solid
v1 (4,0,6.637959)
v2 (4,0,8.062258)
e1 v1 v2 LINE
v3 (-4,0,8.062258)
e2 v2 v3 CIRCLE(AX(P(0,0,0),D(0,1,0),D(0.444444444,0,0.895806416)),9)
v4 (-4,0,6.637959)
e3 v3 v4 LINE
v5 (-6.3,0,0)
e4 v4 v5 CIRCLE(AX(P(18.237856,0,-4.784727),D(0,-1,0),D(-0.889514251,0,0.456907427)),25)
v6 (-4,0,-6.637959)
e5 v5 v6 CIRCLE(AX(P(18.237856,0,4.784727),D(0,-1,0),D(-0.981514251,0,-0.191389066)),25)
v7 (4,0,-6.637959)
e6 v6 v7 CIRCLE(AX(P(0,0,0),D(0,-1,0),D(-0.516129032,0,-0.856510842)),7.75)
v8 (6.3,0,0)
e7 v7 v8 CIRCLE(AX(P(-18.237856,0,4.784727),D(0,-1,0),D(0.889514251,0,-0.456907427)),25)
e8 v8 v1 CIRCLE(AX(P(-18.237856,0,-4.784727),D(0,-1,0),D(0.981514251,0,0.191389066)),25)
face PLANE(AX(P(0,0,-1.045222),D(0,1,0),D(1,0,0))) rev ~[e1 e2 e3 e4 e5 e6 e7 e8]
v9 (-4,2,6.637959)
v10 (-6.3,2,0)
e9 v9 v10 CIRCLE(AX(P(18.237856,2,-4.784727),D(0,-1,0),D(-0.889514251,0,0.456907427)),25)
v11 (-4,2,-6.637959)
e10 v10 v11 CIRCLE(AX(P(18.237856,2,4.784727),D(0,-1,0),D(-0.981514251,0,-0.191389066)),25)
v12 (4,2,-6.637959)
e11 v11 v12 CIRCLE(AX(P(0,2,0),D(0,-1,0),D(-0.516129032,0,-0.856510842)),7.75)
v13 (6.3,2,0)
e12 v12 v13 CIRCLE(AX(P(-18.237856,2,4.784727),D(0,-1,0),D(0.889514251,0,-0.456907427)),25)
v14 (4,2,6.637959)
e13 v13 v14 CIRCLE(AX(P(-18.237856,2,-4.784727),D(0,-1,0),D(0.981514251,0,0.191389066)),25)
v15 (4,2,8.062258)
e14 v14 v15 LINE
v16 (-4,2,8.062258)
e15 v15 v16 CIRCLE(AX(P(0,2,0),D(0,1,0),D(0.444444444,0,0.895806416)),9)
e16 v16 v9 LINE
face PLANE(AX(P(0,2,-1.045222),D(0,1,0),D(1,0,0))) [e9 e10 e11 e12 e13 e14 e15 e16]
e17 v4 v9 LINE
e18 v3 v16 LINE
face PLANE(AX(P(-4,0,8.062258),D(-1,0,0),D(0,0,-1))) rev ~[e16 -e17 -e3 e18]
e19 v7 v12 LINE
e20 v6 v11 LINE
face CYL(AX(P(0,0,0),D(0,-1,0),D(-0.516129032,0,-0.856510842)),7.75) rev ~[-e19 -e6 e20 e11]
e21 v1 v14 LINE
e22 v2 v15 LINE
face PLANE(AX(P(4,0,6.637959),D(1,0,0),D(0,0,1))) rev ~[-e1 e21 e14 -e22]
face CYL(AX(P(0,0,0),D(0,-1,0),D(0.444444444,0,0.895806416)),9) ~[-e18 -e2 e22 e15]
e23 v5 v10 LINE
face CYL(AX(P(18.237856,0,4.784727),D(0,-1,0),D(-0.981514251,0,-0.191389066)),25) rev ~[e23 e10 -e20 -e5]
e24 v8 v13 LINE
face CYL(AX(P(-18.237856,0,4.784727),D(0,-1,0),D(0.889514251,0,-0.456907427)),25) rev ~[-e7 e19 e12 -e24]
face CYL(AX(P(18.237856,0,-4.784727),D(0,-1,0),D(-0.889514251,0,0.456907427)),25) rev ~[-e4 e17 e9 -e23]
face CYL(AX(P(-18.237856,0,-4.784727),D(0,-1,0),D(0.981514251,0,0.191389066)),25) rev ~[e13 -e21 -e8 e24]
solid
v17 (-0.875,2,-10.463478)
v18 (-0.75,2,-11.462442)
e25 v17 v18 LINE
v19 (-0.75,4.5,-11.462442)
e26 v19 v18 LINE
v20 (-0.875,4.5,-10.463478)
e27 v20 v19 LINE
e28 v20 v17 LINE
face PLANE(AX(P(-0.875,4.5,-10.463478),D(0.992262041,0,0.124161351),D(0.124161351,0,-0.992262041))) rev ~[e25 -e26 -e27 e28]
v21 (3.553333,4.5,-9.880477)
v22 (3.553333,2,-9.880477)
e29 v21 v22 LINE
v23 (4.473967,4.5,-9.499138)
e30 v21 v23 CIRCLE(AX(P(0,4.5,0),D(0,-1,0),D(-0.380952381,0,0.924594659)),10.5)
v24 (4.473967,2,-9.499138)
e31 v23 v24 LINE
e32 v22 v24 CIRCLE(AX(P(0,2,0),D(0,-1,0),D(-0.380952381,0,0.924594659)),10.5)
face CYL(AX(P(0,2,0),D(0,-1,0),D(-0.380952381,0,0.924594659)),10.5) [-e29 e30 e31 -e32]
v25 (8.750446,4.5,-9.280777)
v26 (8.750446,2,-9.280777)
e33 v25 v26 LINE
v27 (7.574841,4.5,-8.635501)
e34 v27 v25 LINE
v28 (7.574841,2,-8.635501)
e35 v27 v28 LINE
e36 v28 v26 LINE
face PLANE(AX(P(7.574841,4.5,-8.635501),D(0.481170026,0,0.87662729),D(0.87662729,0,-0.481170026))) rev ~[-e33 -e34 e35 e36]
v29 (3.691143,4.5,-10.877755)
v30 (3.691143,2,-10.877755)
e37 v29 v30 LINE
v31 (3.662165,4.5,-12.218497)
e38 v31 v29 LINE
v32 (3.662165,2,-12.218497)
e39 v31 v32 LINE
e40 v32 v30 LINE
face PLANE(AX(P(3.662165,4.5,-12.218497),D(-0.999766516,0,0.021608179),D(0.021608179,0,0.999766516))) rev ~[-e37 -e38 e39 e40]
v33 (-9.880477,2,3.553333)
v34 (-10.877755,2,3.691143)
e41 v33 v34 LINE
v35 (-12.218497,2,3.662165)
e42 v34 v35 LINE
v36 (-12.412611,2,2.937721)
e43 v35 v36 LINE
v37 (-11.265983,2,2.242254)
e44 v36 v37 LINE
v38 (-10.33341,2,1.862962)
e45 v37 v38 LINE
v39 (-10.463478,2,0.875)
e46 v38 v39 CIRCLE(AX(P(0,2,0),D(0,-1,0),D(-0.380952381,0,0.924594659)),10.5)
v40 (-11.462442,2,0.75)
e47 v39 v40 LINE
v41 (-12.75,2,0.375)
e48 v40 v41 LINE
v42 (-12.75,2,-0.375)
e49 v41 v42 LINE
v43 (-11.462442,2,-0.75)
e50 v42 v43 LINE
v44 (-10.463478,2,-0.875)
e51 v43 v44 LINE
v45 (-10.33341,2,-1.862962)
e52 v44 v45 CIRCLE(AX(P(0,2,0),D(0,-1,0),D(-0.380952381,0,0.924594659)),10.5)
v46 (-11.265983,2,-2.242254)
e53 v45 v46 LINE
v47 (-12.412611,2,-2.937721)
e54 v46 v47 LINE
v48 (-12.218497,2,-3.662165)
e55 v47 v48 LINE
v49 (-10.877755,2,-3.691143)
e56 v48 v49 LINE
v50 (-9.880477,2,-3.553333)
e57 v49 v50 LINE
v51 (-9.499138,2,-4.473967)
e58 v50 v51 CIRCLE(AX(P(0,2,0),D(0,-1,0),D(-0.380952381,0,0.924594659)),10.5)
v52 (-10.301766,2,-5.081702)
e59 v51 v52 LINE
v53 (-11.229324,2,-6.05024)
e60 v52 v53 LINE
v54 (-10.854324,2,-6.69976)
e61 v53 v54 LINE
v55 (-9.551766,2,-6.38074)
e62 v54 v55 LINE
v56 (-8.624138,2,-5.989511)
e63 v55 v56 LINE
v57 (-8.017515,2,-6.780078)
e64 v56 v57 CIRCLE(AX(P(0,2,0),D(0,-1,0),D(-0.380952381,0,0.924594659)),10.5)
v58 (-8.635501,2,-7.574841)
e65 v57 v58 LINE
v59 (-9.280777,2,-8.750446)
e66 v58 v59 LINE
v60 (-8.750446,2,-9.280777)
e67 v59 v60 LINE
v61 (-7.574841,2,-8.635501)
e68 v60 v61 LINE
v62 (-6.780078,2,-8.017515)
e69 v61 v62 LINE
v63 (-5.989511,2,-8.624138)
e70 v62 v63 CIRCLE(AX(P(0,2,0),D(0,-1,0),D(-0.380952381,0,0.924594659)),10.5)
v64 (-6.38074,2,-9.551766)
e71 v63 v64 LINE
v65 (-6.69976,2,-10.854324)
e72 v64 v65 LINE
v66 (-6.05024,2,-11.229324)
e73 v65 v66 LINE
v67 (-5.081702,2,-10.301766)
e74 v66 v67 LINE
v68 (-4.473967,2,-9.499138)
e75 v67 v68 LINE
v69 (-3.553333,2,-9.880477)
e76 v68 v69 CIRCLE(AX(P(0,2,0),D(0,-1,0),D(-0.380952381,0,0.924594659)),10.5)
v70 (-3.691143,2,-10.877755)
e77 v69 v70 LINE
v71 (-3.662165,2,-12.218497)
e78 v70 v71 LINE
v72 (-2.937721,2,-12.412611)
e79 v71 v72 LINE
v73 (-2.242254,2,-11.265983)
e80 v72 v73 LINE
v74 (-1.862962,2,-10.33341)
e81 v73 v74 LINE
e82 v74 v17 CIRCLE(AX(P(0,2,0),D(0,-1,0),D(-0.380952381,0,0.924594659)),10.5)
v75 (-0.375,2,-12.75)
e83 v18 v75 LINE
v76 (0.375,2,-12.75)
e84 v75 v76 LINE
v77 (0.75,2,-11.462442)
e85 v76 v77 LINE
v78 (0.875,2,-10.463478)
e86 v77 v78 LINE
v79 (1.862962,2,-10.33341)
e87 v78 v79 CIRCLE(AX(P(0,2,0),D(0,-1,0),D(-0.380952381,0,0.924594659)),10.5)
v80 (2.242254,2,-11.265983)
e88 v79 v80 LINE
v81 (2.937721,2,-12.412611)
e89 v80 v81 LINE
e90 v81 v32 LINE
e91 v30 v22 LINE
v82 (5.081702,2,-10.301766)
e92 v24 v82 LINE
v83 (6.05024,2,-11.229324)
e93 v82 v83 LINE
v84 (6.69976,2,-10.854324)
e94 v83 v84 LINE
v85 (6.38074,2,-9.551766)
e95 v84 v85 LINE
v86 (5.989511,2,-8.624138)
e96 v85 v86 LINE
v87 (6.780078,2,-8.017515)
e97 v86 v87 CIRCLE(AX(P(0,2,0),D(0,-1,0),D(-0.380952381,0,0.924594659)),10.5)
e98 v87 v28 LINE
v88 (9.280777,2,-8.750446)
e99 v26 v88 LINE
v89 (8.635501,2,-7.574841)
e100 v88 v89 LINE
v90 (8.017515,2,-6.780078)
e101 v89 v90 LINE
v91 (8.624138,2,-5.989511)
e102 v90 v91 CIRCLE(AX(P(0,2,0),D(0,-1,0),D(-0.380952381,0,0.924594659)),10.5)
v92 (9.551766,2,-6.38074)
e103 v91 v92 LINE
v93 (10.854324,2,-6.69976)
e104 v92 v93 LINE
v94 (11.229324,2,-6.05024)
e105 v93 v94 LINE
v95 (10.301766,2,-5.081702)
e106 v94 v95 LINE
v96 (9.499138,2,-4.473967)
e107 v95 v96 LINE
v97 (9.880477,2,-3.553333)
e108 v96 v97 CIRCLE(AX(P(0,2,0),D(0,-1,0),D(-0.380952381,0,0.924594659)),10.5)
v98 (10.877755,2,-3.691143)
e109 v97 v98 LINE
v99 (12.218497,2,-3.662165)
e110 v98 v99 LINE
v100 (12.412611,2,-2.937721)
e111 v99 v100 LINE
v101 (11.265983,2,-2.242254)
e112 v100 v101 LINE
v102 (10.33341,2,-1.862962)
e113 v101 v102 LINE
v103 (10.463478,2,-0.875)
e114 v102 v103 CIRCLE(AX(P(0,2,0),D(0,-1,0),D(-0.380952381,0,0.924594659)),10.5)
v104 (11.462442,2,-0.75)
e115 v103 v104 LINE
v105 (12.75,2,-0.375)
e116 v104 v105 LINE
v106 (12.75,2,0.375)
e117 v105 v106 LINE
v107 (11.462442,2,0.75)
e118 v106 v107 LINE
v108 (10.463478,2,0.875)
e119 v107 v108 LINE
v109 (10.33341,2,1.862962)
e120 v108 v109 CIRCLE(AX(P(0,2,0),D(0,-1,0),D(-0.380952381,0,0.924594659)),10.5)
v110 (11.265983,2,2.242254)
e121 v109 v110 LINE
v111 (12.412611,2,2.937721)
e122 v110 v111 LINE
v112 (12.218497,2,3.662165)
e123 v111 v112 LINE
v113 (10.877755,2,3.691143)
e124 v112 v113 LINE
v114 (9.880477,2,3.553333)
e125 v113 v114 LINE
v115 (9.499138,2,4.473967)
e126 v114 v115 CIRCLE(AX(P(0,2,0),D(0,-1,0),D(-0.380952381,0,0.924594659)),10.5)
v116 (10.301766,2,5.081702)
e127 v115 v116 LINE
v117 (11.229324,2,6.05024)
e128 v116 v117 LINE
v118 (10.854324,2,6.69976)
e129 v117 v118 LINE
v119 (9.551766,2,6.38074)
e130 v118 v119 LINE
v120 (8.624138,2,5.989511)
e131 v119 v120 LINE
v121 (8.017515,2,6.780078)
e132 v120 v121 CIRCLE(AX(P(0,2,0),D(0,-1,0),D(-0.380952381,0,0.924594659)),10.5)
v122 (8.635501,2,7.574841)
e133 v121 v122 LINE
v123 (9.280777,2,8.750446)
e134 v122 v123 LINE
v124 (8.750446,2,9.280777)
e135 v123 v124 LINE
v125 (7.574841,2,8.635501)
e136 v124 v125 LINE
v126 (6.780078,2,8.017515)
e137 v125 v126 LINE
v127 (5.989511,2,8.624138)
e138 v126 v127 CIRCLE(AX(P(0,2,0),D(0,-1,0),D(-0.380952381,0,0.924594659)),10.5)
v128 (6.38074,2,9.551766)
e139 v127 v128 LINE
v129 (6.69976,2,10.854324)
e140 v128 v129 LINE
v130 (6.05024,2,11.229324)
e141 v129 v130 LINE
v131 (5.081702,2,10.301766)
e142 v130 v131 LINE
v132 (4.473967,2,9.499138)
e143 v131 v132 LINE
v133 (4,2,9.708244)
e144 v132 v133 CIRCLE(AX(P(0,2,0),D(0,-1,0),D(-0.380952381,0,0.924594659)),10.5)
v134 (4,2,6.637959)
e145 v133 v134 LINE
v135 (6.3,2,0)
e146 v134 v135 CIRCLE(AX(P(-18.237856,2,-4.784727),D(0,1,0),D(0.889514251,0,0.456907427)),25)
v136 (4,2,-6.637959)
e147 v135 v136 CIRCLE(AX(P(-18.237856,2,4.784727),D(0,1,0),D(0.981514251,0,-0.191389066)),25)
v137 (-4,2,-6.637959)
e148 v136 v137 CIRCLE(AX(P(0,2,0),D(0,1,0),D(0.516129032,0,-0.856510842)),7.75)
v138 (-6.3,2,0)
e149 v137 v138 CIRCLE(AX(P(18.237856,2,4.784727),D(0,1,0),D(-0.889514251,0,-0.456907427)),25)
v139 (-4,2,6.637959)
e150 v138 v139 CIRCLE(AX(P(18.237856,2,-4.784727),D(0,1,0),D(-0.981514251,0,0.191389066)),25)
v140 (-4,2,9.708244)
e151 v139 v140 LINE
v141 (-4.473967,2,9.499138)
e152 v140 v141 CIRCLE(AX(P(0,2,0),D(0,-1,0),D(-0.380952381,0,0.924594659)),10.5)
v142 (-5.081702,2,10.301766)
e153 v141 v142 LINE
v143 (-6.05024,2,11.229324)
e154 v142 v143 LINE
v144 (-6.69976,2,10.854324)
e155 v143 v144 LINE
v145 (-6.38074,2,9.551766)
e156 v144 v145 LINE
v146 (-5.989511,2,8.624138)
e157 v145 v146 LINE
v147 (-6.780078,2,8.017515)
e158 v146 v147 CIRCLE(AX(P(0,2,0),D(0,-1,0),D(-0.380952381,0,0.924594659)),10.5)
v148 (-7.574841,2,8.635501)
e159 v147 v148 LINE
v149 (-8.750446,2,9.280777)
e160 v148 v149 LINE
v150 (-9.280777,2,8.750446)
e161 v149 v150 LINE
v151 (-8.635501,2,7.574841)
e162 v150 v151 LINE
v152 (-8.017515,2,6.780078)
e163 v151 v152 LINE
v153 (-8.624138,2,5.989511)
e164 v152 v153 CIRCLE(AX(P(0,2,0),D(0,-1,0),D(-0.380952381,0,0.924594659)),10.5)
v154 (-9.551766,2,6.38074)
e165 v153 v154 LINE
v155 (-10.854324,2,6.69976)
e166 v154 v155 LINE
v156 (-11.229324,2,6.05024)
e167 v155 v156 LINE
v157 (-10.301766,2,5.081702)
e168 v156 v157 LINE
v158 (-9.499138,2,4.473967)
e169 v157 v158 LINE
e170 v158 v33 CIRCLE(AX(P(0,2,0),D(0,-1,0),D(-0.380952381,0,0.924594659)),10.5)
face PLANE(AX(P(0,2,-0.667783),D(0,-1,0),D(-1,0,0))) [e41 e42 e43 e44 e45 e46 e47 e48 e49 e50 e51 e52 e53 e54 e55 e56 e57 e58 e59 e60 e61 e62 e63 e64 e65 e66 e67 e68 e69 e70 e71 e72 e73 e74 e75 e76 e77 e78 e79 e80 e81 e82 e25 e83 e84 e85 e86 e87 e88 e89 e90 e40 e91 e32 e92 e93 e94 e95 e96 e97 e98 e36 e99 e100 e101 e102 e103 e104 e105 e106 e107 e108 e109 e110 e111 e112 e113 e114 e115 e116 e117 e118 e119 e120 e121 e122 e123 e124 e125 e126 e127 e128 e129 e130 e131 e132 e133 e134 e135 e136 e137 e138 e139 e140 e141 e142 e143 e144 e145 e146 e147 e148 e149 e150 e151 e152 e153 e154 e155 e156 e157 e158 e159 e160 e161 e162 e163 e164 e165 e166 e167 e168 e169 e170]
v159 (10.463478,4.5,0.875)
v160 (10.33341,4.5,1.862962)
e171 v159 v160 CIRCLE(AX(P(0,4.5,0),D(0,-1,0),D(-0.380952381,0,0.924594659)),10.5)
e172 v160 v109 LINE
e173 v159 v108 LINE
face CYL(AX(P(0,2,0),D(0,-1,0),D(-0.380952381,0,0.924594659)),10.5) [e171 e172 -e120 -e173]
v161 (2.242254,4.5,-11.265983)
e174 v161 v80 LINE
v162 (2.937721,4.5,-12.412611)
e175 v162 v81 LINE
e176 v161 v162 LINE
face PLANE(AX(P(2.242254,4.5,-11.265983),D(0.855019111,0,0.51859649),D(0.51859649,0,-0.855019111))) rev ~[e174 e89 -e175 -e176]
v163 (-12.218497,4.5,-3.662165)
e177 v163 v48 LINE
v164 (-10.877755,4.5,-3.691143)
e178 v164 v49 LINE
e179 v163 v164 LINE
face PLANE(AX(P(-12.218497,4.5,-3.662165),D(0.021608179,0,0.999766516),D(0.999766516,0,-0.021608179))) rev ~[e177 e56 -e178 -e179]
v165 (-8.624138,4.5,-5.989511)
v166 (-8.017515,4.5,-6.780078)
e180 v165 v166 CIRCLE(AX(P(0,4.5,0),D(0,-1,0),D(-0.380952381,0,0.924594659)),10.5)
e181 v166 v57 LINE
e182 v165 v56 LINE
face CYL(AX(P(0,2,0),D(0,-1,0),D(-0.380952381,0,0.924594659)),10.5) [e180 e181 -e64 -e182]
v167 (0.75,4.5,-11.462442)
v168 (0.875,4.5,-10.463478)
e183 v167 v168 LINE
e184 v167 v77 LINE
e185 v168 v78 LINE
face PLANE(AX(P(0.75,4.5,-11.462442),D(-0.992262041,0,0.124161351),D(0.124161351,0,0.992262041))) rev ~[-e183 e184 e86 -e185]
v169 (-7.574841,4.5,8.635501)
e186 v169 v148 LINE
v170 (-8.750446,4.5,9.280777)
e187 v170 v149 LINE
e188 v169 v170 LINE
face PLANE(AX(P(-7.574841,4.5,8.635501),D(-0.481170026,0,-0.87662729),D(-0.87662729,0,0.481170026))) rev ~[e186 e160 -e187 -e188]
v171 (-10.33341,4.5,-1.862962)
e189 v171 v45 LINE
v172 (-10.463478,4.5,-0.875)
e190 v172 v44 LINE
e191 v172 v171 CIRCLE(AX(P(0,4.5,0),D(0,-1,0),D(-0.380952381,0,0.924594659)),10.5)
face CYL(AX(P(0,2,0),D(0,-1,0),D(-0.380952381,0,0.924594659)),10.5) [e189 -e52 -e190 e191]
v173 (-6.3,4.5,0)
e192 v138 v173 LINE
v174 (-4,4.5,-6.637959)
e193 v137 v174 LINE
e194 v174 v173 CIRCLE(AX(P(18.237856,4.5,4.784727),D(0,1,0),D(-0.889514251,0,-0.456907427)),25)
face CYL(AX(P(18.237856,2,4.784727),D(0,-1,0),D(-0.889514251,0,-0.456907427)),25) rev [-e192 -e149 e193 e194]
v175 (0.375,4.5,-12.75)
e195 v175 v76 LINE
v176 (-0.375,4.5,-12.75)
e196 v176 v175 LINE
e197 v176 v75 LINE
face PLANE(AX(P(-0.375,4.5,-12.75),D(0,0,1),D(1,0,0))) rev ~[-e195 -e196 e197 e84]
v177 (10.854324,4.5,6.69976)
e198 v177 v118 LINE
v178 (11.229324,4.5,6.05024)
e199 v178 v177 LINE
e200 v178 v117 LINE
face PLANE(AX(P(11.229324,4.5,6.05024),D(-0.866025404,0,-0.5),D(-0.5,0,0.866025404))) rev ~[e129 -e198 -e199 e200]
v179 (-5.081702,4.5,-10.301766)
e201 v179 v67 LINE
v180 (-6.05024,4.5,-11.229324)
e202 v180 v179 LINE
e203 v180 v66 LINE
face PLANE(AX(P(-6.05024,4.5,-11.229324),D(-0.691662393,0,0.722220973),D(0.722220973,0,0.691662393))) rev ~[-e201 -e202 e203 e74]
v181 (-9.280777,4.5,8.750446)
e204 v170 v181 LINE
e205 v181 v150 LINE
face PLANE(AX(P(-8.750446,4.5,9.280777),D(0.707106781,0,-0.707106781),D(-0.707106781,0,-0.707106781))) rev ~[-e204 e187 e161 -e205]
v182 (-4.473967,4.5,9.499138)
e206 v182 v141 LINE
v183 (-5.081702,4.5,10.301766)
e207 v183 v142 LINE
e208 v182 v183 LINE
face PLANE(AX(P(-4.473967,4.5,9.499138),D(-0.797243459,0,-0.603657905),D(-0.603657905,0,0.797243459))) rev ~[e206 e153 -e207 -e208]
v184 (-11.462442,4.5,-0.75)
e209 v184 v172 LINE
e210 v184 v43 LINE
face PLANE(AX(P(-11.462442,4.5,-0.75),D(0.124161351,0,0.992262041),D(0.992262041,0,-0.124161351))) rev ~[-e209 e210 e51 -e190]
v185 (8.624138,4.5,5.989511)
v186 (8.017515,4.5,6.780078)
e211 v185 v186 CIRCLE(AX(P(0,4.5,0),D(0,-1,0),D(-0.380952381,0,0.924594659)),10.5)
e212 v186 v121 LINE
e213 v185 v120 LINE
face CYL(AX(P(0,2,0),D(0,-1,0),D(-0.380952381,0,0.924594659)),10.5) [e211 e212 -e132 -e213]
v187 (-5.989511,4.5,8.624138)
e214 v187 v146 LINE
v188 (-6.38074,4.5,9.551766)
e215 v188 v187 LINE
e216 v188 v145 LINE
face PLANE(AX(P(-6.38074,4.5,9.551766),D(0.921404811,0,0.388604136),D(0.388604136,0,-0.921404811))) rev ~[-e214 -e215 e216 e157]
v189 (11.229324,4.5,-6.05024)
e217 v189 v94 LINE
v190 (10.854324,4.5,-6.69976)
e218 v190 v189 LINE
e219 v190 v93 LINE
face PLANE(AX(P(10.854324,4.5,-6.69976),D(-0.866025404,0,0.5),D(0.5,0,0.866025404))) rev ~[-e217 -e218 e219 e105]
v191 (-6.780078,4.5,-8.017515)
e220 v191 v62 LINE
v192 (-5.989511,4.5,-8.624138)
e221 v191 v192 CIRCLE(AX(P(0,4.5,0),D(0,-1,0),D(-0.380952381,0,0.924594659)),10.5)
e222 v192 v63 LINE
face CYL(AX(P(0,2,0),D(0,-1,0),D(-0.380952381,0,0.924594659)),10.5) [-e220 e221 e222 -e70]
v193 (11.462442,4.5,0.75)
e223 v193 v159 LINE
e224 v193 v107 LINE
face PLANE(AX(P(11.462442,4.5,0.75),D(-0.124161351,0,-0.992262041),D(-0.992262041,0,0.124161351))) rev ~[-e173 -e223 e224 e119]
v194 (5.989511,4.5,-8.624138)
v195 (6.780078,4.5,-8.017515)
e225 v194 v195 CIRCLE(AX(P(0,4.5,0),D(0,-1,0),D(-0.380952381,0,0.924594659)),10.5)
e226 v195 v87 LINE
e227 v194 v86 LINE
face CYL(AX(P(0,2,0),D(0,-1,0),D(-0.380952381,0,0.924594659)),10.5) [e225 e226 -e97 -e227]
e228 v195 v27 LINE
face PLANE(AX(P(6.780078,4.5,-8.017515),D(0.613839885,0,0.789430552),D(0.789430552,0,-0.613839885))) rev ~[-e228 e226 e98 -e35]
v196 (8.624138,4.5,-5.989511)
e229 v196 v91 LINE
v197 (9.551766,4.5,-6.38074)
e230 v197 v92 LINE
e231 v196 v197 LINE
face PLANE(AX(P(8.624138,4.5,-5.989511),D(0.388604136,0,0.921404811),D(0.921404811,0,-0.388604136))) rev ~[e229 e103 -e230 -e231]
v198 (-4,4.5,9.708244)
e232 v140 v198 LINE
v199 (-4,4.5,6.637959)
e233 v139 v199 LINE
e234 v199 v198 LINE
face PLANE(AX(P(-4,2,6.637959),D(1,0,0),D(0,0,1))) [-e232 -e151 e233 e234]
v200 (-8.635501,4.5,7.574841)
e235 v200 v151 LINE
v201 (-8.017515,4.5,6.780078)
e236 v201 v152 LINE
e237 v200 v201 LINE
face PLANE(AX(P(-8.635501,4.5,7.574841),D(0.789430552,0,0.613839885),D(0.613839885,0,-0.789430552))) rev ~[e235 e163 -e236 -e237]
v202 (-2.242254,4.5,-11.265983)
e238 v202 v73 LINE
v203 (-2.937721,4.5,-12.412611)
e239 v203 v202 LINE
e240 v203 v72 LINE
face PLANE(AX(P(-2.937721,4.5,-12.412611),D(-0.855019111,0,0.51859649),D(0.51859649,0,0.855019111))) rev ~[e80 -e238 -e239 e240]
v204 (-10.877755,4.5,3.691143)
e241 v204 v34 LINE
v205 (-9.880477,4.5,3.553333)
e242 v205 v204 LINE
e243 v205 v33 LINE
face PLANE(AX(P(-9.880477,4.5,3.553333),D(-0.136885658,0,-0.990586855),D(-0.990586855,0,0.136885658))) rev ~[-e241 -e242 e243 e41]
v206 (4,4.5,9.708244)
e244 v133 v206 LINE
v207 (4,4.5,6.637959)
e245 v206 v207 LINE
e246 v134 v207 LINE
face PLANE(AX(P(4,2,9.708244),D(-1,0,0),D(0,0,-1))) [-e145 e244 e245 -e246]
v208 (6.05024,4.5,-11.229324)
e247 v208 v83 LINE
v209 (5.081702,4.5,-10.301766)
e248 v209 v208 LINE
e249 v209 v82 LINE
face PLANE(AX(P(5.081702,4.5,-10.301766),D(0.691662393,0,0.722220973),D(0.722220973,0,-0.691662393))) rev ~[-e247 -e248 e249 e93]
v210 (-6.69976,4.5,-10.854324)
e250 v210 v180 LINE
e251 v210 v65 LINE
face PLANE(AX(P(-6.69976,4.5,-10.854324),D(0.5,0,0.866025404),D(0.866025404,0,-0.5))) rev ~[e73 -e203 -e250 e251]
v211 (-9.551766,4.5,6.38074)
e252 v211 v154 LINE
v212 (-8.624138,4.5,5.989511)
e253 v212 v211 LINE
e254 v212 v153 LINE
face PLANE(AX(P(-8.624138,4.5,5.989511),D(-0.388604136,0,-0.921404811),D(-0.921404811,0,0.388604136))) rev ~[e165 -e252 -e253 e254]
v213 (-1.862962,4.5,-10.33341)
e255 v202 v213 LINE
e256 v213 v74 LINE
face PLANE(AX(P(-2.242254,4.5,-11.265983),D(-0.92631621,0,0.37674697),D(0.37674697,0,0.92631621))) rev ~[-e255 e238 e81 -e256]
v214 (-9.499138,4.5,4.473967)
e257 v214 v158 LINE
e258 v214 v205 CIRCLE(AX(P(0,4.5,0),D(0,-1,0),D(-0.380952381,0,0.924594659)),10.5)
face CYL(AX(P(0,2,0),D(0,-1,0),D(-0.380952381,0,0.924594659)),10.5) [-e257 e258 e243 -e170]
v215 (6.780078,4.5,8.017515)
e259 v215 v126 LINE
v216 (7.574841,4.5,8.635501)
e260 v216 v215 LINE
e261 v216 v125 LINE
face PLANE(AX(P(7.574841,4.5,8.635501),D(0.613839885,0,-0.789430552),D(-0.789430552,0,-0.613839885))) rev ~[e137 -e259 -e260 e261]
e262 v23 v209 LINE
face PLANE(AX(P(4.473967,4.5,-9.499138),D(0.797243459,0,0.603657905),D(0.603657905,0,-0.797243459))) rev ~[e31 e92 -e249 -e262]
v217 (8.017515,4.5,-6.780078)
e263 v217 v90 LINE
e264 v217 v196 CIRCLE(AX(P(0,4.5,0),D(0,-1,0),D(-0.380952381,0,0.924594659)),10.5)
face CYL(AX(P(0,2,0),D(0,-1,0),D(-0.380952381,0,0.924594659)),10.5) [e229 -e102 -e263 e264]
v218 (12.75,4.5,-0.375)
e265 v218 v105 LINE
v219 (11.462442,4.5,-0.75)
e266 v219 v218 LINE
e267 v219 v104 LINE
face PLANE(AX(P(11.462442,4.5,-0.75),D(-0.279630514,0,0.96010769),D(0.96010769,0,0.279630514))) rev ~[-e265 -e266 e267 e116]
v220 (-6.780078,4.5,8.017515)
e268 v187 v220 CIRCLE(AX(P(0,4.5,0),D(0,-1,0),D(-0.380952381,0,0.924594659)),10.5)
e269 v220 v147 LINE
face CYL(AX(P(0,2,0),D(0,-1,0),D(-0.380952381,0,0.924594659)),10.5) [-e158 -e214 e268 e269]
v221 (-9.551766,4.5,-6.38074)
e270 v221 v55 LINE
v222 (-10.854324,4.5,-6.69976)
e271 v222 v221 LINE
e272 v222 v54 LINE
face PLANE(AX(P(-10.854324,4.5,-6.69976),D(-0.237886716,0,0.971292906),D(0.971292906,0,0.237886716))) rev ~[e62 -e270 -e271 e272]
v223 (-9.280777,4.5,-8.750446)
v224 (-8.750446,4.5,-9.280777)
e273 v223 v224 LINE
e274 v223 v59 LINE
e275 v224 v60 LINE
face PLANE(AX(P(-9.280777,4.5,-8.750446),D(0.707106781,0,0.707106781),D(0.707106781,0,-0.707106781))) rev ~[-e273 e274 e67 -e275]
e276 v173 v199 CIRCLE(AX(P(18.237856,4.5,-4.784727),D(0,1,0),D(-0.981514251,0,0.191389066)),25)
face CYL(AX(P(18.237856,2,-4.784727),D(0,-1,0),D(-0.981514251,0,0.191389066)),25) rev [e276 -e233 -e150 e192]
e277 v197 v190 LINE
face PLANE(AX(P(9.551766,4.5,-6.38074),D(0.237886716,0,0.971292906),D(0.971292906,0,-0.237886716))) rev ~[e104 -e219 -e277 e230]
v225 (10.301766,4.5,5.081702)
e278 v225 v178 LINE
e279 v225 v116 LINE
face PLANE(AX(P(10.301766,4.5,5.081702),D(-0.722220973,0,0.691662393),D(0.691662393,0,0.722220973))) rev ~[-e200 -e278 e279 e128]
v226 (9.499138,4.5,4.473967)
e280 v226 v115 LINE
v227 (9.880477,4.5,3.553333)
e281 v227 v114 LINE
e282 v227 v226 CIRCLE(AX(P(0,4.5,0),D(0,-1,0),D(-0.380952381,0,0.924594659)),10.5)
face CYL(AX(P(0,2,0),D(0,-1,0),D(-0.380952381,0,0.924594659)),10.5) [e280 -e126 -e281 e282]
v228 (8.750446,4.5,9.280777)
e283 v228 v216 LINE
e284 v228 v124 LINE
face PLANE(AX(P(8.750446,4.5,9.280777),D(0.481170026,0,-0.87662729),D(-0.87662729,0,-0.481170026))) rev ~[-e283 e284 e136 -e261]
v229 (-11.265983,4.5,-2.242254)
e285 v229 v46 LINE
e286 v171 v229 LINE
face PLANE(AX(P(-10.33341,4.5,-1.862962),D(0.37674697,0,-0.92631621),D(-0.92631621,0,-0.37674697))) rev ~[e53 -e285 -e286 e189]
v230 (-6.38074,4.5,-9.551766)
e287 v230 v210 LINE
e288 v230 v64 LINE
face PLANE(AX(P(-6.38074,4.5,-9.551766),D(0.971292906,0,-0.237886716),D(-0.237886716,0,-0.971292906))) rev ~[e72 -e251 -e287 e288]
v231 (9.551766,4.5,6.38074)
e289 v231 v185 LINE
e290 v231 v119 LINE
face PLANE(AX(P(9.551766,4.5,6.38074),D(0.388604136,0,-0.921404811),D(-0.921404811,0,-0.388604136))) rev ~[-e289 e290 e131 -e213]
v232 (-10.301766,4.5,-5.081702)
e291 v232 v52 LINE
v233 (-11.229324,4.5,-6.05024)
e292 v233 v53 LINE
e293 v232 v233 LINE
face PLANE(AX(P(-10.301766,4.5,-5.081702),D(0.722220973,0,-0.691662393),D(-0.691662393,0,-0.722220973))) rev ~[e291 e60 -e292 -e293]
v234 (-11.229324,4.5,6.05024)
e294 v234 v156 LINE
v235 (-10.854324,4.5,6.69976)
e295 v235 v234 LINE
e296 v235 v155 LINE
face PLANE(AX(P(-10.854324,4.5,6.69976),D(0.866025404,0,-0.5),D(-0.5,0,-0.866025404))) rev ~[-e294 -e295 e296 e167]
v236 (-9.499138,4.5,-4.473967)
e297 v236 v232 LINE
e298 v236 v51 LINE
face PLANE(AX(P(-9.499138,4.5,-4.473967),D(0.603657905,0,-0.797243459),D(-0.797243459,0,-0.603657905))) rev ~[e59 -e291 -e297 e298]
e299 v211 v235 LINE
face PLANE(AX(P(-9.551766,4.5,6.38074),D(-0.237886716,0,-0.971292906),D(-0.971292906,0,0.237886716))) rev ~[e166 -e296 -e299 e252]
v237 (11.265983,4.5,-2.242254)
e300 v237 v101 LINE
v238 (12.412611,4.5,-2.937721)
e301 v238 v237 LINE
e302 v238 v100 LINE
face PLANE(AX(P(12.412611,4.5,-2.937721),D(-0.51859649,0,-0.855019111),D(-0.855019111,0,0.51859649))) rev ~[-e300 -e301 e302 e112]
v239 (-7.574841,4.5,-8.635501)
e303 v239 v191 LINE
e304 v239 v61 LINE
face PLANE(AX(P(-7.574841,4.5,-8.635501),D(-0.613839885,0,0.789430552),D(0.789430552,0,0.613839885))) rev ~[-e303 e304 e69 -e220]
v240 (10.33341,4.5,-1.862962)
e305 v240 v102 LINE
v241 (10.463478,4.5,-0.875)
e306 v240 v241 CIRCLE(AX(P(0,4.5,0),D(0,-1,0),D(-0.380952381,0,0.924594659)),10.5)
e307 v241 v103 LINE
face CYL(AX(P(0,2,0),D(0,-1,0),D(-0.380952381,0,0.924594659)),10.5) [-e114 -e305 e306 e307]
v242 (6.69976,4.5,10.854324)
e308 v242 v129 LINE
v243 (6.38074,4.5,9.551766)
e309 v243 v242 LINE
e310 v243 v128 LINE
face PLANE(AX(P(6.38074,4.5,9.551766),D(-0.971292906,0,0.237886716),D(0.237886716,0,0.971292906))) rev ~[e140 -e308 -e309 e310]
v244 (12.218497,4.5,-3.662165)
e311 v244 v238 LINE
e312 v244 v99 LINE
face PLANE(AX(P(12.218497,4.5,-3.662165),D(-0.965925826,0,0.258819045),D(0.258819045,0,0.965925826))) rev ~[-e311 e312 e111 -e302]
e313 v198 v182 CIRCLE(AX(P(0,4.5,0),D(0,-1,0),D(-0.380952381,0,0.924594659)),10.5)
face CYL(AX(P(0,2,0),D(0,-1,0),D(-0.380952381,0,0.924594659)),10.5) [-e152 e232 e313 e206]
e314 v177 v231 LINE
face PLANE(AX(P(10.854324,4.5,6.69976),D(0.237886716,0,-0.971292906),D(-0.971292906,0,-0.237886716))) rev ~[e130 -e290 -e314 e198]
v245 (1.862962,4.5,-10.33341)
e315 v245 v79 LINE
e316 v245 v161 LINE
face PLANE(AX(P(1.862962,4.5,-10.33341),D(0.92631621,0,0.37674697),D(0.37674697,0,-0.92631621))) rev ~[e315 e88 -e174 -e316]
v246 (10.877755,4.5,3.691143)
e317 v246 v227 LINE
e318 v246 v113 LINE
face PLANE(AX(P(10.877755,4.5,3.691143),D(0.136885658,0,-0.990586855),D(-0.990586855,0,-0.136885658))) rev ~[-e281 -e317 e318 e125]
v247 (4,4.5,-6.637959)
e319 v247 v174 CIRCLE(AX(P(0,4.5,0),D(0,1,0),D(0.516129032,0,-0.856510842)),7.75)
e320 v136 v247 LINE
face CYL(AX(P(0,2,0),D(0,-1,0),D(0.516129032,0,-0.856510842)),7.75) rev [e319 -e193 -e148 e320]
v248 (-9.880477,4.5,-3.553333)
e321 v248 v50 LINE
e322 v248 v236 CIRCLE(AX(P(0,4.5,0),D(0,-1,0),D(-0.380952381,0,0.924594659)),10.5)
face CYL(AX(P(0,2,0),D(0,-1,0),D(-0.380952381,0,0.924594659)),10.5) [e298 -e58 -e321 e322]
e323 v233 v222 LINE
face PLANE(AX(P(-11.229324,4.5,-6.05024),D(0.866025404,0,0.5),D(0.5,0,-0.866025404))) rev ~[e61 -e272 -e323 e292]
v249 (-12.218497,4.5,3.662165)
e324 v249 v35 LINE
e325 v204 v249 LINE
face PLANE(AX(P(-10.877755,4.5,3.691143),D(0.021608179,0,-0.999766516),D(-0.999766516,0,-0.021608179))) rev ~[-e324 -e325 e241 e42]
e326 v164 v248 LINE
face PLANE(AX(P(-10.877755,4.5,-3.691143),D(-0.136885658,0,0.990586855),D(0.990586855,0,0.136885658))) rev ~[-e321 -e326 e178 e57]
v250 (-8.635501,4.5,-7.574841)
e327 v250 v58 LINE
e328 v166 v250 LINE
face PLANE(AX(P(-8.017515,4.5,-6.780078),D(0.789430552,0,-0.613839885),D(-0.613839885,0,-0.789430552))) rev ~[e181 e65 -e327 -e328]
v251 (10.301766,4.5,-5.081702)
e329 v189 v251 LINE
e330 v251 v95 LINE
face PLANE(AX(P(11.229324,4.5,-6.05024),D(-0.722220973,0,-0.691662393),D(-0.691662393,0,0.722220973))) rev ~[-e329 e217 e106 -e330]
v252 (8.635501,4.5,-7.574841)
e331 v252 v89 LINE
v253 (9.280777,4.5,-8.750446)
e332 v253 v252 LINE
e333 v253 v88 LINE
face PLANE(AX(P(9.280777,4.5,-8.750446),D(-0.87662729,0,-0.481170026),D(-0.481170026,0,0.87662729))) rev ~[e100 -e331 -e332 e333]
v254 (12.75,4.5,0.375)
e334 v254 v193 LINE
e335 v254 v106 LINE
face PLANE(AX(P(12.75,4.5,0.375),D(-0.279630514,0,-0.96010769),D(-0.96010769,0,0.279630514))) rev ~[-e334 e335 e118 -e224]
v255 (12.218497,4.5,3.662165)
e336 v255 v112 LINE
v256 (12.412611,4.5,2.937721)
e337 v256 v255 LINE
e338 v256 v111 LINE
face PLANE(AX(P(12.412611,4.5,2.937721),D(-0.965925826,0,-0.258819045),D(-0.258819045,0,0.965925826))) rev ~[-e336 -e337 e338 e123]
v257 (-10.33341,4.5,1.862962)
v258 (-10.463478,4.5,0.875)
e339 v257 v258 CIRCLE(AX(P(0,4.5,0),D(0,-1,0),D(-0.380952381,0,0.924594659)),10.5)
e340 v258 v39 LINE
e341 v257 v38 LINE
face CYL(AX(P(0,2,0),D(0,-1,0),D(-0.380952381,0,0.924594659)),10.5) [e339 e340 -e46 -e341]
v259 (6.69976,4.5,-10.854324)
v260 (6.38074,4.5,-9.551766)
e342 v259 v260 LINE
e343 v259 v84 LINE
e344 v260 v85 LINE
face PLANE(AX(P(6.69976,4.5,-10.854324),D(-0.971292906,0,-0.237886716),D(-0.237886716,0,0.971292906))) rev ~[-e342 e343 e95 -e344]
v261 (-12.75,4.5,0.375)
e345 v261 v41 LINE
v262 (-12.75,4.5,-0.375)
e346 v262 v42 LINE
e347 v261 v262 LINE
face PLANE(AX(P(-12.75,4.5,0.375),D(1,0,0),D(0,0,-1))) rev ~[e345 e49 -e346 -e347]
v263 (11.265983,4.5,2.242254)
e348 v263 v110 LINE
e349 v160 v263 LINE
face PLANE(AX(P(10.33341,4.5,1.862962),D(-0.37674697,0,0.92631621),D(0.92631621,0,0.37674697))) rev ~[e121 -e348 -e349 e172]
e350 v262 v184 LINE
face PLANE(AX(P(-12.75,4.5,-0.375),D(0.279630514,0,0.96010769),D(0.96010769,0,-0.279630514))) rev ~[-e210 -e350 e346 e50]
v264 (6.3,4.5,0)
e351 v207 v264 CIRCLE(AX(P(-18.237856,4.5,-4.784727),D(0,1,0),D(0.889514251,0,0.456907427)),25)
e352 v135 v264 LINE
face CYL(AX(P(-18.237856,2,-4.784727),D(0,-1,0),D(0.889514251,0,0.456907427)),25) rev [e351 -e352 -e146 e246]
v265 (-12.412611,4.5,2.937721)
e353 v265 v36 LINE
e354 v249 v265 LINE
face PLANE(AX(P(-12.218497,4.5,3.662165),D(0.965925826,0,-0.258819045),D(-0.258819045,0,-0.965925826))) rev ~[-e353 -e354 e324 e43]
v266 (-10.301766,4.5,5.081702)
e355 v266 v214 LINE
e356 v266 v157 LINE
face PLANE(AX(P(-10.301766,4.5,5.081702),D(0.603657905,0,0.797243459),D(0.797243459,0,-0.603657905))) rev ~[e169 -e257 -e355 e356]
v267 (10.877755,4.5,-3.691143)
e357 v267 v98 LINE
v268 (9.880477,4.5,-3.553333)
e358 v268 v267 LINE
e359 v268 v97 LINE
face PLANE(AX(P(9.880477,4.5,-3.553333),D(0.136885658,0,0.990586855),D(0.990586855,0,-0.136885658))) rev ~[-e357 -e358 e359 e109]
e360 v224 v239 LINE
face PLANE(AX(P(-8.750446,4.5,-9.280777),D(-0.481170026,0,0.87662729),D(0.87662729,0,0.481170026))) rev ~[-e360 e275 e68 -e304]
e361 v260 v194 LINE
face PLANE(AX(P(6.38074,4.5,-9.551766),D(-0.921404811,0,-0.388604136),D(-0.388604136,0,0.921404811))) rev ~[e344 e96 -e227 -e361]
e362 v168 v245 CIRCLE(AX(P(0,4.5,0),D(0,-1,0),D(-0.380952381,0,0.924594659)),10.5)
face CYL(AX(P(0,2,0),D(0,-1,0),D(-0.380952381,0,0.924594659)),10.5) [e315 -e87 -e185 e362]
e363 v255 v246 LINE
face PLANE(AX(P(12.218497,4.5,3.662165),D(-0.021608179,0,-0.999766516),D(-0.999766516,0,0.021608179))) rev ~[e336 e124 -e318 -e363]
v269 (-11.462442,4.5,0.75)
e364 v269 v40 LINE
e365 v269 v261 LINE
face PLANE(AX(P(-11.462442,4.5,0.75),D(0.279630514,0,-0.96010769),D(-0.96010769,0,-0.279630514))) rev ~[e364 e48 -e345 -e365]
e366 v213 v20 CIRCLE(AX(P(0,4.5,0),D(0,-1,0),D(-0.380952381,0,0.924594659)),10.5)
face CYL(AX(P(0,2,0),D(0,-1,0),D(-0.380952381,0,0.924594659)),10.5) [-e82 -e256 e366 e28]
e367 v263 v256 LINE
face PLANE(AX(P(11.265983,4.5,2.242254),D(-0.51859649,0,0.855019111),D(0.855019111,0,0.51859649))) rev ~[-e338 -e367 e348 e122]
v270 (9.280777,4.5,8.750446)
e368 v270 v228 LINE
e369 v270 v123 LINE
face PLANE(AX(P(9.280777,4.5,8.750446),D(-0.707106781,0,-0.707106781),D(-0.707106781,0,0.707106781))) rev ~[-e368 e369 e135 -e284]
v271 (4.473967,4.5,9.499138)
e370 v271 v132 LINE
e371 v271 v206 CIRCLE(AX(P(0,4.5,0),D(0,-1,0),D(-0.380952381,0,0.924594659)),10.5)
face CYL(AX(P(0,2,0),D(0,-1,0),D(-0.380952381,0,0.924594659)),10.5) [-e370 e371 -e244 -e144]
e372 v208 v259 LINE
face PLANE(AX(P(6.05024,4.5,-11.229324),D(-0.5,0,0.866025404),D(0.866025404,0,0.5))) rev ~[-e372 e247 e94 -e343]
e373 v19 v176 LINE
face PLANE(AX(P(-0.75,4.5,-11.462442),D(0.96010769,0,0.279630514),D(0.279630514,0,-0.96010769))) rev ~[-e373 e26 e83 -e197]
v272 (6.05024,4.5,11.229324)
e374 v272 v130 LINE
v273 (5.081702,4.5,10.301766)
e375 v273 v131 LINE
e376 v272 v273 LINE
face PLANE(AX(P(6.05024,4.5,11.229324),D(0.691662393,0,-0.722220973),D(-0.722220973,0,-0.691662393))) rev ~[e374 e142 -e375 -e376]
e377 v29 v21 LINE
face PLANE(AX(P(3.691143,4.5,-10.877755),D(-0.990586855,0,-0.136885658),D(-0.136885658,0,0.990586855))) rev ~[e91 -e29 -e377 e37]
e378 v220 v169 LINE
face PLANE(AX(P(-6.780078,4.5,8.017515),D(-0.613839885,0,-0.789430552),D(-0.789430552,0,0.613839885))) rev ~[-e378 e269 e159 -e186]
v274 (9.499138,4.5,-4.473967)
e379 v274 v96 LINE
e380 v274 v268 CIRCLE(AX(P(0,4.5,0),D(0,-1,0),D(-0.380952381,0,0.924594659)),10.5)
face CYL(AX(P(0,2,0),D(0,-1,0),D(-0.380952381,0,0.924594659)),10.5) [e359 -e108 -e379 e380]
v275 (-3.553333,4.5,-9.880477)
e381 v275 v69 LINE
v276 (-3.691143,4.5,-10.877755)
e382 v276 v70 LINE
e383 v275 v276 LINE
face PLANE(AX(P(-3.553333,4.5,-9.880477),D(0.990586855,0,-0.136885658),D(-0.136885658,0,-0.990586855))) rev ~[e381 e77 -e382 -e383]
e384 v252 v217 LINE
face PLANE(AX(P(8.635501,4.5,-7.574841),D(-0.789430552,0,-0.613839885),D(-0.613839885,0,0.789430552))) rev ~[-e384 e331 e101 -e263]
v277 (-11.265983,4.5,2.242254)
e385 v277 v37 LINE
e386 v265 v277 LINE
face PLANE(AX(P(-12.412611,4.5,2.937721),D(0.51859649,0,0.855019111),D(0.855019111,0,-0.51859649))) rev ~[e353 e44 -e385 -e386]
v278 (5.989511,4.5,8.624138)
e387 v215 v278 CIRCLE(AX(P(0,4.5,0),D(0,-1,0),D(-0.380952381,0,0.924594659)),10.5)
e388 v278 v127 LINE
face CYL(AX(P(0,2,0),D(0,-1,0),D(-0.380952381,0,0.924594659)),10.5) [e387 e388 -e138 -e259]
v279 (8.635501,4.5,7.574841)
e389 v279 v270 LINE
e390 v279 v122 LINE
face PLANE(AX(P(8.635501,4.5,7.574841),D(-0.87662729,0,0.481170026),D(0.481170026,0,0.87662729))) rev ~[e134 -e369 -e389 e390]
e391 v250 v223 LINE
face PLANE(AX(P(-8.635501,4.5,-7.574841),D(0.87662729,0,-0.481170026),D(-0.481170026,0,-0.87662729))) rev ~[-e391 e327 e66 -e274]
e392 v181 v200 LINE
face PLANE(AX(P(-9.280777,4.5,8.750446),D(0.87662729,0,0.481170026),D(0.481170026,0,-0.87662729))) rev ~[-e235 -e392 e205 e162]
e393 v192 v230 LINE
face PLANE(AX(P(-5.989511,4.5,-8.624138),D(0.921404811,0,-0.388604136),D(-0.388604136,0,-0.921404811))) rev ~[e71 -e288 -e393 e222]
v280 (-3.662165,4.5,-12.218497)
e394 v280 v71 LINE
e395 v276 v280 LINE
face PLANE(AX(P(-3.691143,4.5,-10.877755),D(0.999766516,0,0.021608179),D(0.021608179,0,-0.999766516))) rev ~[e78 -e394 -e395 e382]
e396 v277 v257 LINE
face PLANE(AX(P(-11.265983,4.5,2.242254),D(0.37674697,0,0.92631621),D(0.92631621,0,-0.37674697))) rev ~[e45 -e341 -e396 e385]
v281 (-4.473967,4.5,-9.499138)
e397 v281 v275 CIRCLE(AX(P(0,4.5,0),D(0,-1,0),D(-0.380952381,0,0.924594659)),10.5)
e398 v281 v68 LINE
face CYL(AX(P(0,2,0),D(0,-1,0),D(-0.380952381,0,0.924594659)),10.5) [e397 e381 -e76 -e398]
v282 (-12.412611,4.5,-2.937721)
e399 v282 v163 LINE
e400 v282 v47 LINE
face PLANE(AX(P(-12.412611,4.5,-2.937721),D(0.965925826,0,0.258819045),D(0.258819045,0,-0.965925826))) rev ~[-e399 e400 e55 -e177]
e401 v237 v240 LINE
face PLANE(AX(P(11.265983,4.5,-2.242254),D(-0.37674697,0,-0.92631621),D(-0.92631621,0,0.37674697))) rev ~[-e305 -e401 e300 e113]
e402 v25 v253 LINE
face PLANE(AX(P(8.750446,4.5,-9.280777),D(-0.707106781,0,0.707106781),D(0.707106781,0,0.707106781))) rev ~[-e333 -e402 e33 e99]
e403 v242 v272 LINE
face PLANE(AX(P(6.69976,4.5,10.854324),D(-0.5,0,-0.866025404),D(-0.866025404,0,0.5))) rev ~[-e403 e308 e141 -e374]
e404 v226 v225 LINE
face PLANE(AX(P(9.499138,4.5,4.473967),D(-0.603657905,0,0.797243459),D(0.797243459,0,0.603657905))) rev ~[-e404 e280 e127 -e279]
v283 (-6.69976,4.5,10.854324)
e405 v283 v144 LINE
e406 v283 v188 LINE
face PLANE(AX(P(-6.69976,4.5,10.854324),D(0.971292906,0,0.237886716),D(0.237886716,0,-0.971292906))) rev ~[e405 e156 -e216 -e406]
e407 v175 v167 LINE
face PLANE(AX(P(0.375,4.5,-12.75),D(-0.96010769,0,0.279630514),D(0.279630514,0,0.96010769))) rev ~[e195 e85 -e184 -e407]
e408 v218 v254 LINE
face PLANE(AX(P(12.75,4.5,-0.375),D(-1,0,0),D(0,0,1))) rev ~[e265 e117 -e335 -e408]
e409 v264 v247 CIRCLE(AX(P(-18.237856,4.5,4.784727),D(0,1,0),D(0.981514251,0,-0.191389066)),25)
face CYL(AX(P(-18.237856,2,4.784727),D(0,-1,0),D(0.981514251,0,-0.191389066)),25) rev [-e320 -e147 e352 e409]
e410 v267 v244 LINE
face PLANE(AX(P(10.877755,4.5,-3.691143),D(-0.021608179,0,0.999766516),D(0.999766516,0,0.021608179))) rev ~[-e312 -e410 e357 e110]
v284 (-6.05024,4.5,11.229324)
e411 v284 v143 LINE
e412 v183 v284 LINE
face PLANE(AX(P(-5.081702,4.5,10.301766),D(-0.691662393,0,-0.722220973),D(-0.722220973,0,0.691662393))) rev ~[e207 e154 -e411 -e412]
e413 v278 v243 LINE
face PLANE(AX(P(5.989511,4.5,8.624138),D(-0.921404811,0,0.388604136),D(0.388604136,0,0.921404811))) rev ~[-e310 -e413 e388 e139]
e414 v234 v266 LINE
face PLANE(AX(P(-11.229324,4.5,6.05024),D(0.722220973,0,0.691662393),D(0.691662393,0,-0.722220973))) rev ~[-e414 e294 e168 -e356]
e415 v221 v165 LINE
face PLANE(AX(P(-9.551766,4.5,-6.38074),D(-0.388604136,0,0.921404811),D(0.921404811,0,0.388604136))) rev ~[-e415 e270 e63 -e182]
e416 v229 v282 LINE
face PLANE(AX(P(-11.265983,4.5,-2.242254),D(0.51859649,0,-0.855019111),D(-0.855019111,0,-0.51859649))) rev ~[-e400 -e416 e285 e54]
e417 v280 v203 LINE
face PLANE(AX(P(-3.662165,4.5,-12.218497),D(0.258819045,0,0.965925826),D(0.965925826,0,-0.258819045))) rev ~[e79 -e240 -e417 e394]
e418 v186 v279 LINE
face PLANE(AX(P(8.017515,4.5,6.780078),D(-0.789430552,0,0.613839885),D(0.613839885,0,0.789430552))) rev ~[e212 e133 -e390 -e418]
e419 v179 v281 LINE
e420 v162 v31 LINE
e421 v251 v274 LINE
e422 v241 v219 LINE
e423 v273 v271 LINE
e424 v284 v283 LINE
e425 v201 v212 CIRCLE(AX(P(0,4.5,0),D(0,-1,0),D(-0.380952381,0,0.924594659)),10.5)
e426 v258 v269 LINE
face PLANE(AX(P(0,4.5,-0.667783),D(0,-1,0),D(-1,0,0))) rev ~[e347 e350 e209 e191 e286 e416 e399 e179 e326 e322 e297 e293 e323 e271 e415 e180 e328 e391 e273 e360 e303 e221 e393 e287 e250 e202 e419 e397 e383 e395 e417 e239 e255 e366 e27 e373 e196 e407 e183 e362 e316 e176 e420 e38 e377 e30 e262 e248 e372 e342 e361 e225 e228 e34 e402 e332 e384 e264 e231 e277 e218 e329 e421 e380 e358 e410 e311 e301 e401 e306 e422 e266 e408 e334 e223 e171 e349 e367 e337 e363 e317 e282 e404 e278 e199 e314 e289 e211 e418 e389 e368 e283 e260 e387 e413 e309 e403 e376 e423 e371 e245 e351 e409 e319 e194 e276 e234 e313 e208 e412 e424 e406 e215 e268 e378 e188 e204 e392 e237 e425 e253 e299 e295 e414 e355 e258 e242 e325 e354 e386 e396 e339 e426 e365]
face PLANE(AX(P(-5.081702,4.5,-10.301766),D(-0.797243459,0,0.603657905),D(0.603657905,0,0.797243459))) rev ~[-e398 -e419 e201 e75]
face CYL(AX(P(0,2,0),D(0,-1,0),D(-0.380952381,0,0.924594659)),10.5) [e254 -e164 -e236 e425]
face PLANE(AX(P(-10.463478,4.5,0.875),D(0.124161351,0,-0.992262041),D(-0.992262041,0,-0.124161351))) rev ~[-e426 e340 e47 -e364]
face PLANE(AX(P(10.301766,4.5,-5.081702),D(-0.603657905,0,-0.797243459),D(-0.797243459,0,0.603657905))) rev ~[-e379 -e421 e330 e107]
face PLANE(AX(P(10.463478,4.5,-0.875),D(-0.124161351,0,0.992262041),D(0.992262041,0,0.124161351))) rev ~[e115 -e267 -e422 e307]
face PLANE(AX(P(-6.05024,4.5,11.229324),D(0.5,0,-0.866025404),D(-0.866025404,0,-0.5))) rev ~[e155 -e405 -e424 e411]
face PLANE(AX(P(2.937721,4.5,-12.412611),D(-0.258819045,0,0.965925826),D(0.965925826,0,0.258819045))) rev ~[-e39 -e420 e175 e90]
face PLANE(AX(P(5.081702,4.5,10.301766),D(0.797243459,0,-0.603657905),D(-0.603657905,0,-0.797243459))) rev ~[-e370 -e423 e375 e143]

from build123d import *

# Parameters (mm, degrees)
BOSS_EXTRUDE1_DEPTH = 2
BOSS_EXTRUDE2_DEPTH = 2.5
BOSS_EXTRUDE5_DEPTH = 2.5
CIRPATTERN2_COUNT   = 24


with BuildPart() as part:
    # Sketch1 → Boss-Extrude1 (new body)
    with BuildSketch(Plane(origin=(0, 0, 0), x_dir=(1, 0, 0), z_dir=(0, 1, 0))):
        with BuildLine():
            Line((-4, -8.062257748), (-4, -6.637959024))
            ThreePointArc((-4, -6.637959024), (-5.384324957, -3.400171245), (-6.3, 0))
            ThreePointArc((-6.3, 0), (-5.384324957, 3.400171245), (-4, 6.637959024))
            ThreePointArc((-4, 6.637959024), (0, 7.75), (4, 6.637959024))
            ThreePointArc((4, 6.637959024), (5.384324957, 3.400171245), (6.3, 0))
            ThreePointArc((6.3, 0), (5.384324957, -3.400171245), (4, -6.637959024))
            Line((4, -6.637959024), (4, -8.062257748))
            ThreePointArc((4, -8.062257748), (0, 9), (-4, -8.062257748))
        make_face()
    extrude(amount=BOSS_EXTRUDE1_DEPTH)


with BuildPart() as body_2:
    # Sketch2 → Boss-Extrude2 (new body)
    with BuildSketch(Plane(origin=(0, 2, 0), x_dir=(1, 0, 0), z_dir=(0, 1, 0))):
        with BuildLine():
            Line((4, -9.708243919), (4, -8.062257748))
            Line((4, -8.062257748), (4, -6.637959024))
            ThreePointArc((4, -6.637959024), (5.384324957, -3.400171245), (6.3, 0))
            ThreePointArc((6.3, 0), (5.384324957, 3.400171245), (4, 6.637959024))
            ThreePointArc((4, 6.637959024), (0, 7.75), (-4, 6.637959024))
            ThreePointArc((-4, 6.637959024), (-5.384324957, 3.400171245), (-6.3, 0))
            ThreePointArc((-6.3, 0), (-5.384324957, -3.400171245), (-4, -6.637959024))
            Line((-4, -6.637959024), (-4, -8.062257748))
            Line((-4, -8.062257748), (-4, -9.708243919))
            ThreePointArc((-4, -9.708243919), (0, 10.5), (4, -9.708243919))
        make_face()
    extrude(amount=BOSS_EXTRUDE2_DEPTH)

    # Sketch7 → Boss-Extrude5 (add)
    with BuildSketch(Plane(origin=(0, 4.5, 0), x_dir=(1, 0, 0), z_dir=(0, 1, 0))):
        with BuildLine():
            Line((-0.375, 12.75), (0.375, 12.75))
            Line((0.375, 12.75), (0.75, 11.462442433))
            Line((0.75, 11.462442433), (0.875, 10.46347815))
            ThreePointArc((0.875, 10.46347815), (0, 10.5), (-0.875, 10.46347815))
            Line((-0.875, 10.46347815), (-0.75, 11.462442433))
            Line((-0.75, 11.462442433), (-0.375, 12.75))
        make_face()
    boss_extrude5 = extrude(amount=-BOSS_EXTRUDE5_DEPTH)

    # CirPattern2: Boss-Extrude5 ×24 about axis, 3 skipped
    cirpattern2_axis = Axis((0, 0, 0), (0, 1, 0))
    add([boss_extrude5.rotate(cirpattern2_axis, i * 360 / CIRPATTERN2_COUNT) for i in range(1, CIRPATTERN2_COUNT) if i not in (11, 12, 13)])


solid = Compound([part.part, body_2.part])
